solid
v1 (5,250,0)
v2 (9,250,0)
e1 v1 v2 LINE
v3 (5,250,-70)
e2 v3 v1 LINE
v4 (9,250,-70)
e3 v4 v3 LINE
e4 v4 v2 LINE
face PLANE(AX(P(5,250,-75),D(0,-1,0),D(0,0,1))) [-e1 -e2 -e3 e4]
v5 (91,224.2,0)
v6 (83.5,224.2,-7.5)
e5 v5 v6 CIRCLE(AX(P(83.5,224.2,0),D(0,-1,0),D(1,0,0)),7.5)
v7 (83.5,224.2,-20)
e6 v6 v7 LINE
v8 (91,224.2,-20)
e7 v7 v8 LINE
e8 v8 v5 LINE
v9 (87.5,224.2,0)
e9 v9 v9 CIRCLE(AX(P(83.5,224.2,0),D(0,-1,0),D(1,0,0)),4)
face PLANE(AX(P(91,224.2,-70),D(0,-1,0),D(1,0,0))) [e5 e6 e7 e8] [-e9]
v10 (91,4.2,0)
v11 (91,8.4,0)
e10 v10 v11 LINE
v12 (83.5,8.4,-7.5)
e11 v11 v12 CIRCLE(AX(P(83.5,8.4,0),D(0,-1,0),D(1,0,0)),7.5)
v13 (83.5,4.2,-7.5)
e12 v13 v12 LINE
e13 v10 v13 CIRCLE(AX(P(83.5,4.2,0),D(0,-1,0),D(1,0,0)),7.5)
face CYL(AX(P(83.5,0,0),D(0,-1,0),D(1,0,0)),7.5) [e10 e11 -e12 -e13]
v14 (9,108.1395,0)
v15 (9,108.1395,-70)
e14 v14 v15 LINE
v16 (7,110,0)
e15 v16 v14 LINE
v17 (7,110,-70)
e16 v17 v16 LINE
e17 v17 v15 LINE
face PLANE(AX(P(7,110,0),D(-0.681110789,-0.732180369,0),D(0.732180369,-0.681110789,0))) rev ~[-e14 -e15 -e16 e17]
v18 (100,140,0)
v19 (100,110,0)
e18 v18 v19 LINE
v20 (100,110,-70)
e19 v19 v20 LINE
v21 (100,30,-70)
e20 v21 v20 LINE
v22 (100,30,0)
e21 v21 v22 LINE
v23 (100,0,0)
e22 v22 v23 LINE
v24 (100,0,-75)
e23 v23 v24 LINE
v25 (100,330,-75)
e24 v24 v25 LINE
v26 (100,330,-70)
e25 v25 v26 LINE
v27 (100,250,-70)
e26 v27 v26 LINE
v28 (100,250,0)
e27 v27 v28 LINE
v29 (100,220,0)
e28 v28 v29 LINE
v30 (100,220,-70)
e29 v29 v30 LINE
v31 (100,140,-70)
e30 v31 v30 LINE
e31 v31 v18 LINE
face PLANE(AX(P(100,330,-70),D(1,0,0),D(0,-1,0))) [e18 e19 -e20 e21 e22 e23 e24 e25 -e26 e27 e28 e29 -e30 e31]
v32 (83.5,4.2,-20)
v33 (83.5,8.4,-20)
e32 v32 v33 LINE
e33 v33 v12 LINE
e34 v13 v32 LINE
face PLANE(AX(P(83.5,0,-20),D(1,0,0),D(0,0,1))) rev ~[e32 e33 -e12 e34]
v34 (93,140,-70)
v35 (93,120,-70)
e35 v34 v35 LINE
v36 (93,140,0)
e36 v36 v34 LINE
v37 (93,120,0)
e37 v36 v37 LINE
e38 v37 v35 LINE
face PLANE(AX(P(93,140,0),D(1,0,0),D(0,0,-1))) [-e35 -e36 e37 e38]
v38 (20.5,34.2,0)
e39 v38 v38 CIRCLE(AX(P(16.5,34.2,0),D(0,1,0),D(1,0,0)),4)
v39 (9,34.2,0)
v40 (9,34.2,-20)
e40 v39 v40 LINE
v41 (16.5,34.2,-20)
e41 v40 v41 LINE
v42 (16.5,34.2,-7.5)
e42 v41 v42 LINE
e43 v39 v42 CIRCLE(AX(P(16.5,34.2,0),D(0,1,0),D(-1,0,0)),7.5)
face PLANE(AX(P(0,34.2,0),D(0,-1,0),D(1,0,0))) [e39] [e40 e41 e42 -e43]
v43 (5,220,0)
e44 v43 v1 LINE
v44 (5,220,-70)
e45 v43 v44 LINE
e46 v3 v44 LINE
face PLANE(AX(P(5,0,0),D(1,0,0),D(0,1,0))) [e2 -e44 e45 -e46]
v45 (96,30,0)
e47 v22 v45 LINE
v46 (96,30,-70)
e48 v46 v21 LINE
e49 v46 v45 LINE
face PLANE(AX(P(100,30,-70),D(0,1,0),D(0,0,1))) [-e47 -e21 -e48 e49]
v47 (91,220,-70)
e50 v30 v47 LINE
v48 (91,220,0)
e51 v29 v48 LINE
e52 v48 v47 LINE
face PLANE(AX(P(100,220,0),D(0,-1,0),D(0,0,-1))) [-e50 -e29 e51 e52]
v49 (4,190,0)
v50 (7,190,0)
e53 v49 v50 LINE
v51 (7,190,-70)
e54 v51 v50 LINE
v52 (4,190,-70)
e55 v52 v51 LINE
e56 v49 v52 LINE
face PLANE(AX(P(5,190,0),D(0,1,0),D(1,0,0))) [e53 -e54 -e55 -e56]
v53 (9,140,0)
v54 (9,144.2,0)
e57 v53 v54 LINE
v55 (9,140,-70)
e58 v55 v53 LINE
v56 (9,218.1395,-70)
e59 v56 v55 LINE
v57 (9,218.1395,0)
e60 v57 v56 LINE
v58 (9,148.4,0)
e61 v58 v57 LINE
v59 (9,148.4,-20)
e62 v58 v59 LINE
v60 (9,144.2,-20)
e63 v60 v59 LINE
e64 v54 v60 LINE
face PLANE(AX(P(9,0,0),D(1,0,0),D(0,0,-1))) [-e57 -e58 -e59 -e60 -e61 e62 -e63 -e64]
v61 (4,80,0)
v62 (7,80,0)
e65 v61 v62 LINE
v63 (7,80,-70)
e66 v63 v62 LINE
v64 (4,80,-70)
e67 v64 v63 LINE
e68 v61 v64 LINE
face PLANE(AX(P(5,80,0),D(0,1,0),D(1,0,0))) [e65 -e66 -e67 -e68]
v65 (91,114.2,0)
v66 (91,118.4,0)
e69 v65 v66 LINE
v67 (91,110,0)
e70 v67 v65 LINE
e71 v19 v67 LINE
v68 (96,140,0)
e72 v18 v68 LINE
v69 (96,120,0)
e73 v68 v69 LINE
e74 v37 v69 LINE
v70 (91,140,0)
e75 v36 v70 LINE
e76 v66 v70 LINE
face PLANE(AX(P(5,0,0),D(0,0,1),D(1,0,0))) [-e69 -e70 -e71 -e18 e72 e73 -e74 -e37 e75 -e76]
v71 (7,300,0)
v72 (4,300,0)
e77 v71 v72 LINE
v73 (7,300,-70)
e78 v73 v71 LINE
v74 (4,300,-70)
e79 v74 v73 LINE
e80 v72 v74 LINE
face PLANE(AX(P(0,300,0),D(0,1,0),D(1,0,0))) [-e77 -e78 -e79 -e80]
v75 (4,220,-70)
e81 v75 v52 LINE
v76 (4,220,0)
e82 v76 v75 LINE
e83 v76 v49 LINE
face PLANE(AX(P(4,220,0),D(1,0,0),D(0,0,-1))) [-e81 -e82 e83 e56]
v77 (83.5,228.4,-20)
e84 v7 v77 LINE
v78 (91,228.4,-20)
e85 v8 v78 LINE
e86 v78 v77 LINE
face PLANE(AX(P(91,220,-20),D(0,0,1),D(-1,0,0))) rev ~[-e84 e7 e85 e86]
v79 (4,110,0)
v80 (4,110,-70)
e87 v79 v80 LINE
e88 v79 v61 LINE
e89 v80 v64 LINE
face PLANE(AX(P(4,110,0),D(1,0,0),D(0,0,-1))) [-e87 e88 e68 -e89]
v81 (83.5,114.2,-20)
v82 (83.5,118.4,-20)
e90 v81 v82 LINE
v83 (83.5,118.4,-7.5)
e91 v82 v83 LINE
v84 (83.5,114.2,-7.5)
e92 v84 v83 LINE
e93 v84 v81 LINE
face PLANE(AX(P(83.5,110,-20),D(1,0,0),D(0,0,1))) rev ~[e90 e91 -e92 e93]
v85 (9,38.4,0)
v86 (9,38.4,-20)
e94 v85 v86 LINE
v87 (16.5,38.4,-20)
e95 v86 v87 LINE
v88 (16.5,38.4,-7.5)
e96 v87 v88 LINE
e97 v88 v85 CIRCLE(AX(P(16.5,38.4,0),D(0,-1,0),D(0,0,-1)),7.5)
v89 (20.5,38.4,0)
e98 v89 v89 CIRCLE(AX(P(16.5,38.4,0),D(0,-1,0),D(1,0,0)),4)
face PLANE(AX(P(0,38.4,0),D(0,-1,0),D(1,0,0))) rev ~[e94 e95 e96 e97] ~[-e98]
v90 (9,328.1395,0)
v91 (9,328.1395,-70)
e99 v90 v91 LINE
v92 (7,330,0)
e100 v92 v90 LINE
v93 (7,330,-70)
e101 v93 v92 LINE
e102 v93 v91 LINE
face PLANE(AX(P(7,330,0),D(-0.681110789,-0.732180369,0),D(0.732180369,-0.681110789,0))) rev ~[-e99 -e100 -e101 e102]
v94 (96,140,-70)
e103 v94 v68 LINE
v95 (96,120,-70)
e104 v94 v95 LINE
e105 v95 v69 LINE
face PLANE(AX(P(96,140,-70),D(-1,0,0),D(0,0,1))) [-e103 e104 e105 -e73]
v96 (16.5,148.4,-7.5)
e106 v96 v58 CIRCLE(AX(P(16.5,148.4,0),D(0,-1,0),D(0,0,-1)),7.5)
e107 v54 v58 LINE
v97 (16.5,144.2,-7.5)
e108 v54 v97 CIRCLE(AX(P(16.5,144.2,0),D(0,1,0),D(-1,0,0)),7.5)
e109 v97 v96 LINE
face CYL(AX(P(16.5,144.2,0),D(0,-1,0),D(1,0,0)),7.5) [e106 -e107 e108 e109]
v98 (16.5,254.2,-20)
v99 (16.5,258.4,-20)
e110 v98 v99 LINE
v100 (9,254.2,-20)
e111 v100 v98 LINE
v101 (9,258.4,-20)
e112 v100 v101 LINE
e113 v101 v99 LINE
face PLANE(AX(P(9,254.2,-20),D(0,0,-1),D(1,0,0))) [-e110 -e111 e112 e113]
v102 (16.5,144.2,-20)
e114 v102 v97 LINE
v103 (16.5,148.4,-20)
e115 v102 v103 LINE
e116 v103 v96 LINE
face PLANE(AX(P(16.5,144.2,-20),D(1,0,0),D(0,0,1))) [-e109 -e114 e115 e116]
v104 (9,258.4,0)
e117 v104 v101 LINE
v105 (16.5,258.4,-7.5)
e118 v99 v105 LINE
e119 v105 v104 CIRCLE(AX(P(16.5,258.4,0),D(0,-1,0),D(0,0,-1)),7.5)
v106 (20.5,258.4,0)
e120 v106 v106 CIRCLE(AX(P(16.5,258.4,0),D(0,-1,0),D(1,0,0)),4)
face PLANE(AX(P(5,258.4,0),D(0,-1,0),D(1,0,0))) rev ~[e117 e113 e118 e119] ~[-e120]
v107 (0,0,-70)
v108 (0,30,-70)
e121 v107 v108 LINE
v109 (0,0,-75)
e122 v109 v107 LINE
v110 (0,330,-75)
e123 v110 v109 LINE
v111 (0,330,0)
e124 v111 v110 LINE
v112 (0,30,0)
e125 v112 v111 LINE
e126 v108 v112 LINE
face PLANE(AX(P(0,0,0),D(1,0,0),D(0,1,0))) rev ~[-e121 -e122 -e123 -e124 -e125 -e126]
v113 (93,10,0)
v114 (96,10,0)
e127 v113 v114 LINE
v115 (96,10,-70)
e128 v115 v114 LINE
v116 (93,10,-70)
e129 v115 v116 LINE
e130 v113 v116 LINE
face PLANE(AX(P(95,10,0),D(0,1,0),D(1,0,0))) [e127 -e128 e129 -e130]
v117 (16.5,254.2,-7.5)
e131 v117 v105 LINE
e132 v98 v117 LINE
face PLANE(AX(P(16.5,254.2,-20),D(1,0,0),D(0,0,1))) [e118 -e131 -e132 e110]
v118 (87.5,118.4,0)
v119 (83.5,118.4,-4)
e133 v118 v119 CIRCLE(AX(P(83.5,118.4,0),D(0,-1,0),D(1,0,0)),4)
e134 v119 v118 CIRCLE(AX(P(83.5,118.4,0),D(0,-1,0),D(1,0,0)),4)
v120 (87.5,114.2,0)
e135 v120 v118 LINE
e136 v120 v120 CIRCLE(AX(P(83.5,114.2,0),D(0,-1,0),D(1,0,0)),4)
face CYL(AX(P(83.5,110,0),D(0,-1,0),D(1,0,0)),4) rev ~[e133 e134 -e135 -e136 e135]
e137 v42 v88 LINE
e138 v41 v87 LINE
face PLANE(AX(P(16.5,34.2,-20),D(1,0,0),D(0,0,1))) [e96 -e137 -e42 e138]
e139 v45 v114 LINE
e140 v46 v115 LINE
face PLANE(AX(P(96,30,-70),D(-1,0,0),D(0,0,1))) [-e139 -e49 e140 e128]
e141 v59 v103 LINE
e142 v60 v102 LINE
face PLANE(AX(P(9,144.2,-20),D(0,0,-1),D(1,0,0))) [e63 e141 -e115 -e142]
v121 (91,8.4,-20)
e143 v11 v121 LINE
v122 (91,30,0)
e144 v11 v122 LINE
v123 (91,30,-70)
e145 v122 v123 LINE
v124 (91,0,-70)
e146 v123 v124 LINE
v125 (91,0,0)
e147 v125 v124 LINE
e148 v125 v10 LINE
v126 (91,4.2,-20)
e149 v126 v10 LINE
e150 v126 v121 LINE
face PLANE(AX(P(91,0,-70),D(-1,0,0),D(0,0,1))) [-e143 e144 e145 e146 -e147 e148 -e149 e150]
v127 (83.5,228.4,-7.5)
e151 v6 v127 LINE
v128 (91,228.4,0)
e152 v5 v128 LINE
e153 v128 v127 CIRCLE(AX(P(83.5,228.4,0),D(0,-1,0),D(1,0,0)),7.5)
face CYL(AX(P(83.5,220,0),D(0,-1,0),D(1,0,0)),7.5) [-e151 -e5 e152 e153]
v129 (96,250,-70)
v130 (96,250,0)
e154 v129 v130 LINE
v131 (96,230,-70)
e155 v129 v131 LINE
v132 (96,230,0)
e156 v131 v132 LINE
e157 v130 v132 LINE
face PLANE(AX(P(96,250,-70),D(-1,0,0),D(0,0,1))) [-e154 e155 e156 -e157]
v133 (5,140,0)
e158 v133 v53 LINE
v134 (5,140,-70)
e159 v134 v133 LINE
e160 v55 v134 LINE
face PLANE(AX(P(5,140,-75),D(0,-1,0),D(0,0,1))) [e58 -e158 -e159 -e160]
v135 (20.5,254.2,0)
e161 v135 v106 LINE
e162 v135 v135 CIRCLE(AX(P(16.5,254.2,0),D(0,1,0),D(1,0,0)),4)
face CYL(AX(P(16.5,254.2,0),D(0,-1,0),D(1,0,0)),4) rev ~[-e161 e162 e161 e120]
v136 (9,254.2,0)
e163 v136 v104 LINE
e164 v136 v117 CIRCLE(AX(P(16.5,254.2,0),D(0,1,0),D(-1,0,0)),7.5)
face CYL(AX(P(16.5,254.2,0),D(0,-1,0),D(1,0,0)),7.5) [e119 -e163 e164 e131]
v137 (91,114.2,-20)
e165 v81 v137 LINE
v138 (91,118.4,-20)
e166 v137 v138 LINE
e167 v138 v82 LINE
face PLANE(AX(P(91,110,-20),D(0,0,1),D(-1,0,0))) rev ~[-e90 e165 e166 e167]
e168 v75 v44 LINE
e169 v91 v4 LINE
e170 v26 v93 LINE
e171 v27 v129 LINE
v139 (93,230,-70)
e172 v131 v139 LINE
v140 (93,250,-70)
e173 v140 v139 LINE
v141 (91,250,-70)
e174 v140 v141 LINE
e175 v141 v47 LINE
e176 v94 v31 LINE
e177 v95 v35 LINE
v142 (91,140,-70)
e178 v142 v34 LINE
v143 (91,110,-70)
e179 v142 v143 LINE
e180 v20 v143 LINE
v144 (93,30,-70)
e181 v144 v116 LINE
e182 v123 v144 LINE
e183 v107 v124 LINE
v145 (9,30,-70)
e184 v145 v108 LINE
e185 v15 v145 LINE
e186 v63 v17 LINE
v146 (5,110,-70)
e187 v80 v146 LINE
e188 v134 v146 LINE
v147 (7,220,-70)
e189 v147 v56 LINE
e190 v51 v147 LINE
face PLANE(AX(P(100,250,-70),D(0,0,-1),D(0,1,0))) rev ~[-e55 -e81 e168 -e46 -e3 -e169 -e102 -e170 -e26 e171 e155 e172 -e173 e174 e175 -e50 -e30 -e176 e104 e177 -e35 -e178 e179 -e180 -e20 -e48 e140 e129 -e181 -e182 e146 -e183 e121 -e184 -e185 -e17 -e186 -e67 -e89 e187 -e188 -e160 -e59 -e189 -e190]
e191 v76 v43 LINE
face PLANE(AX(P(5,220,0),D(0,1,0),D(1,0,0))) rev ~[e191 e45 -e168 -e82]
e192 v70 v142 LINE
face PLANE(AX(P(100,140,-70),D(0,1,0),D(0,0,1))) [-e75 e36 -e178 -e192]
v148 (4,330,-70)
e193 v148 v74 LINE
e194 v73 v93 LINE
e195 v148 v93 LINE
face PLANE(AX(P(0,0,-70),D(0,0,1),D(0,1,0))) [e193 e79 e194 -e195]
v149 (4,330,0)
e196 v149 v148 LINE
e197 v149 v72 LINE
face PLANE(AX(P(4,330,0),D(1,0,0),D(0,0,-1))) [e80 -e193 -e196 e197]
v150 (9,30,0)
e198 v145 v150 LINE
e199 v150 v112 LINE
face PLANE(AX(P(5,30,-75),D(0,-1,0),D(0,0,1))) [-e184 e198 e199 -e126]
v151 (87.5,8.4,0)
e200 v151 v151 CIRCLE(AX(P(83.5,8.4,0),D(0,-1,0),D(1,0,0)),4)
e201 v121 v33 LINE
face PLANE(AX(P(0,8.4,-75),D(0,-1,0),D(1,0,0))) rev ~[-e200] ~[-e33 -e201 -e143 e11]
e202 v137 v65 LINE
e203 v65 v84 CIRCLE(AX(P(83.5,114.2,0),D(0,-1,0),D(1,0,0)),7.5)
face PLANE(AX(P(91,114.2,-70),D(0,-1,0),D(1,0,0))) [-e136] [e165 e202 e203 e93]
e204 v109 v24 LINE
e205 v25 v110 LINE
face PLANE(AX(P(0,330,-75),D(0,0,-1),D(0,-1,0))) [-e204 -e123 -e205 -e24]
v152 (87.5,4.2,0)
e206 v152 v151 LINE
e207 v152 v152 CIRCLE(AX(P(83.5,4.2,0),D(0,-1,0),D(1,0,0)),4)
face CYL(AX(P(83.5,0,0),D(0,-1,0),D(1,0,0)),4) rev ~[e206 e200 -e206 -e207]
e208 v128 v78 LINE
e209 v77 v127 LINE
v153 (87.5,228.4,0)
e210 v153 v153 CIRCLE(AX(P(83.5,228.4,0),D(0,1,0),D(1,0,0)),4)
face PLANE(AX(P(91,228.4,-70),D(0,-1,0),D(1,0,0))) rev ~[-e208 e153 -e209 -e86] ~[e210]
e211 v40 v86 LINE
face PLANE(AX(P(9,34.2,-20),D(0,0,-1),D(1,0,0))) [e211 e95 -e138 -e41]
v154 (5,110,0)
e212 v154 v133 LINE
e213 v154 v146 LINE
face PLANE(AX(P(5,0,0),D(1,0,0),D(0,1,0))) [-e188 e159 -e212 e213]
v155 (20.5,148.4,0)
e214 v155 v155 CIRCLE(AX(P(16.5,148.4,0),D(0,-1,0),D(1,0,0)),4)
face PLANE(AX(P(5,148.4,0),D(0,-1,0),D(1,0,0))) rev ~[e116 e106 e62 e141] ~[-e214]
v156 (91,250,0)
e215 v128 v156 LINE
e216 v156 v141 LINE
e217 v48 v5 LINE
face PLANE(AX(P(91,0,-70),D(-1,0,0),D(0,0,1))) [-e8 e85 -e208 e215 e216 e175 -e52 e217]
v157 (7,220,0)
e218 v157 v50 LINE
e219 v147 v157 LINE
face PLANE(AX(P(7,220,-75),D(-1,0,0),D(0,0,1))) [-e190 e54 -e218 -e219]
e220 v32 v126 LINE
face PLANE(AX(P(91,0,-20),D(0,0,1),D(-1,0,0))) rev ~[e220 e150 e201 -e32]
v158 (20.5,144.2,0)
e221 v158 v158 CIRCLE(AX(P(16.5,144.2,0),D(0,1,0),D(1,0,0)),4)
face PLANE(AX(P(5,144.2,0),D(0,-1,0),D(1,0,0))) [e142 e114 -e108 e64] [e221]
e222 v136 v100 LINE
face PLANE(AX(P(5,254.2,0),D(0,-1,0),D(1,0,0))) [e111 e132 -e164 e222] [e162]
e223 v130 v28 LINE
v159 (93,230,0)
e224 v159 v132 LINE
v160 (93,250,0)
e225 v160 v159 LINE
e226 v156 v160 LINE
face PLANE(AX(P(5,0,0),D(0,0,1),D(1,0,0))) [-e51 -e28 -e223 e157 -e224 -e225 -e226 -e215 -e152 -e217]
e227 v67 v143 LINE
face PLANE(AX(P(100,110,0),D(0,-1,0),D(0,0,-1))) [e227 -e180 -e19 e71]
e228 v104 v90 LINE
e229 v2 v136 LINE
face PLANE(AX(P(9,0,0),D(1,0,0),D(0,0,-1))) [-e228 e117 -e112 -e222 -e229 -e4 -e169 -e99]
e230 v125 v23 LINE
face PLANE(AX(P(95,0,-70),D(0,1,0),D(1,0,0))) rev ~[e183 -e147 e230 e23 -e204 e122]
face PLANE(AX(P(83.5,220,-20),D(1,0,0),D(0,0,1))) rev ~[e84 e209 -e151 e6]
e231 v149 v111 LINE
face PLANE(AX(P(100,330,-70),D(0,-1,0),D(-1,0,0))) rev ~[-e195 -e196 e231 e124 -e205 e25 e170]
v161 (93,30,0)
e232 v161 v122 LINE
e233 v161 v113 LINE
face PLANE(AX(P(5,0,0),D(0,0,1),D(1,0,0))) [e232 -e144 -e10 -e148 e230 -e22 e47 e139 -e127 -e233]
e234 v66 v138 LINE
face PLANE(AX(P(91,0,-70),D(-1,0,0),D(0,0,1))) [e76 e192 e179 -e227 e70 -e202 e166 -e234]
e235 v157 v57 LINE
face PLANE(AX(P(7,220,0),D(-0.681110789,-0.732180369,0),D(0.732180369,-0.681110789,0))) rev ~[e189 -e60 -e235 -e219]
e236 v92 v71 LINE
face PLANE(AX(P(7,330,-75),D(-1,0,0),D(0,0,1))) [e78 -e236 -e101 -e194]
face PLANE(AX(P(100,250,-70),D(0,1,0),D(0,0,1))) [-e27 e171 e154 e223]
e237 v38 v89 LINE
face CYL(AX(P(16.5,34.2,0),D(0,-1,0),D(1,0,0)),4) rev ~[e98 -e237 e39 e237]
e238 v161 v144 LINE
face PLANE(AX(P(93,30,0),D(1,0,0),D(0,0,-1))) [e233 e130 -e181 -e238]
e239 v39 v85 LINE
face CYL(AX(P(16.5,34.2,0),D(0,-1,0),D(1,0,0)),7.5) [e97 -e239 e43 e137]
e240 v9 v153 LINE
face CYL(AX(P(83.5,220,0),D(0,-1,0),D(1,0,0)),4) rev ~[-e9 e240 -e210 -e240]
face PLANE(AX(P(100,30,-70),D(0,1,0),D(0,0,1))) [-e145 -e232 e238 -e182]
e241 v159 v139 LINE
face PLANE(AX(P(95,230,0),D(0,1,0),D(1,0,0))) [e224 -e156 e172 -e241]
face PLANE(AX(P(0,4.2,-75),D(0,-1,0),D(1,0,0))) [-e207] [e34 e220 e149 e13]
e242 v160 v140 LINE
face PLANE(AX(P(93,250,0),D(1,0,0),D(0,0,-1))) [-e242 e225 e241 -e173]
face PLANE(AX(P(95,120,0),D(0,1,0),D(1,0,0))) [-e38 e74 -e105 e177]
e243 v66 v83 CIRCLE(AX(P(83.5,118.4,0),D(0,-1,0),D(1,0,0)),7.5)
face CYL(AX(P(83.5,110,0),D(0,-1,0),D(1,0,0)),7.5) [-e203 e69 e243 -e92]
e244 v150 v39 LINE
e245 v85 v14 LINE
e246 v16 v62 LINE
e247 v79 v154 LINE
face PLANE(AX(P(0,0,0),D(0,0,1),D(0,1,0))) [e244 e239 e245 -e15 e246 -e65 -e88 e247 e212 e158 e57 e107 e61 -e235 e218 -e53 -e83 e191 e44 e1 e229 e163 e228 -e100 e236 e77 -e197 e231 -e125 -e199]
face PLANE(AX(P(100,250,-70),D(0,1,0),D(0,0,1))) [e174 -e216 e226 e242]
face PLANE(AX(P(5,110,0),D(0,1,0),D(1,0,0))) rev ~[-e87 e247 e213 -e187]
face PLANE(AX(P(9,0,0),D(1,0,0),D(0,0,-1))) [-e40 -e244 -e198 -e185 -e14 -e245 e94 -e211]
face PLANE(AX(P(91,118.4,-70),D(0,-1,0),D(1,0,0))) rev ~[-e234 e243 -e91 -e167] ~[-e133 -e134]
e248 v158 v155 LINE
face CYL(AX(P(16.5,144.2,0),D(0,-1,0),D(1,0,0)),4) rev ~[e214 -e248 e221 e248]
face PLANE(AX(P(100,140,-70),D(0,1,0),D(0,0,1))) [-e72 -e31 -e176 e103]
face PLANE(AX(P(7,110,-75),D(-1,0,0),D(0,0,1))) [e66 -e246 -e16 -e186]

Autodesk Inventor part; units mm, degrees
sketch "Boceto1" plane through (0, 0, 0) normal (1, 0, 0) x (0, 1, 0)
  line L0 (0, 0) -> (330, 0)
  line L1 (330, 0) -> (330, -75)
  line L2 (330, -75) -> (0, -75)
  line L3 (0, -75) -> (0, 0)
  dimension "d0" = 330
  dimension "d1" = 75
extrude "Extrusión1" add sketch "Boceto1" along normal blind 5
sketch "Boceto2" plane through (5, 0, 0) normal (1, 0, 0) x (0, 0, -1)
  line L0 (75, 330) -> (0, 330) projected
  line L1 (75, 0) -> (75, 330) projected
  line L2 (0, 330) -> (75, 330)
  line L3 (75, 330) -> (75, 250)
  line L4 (75, 250) -> (0, 250)
  line L5 (0, 250) -> (0, 330)
  line L6 (75, 140) -> (0, 140)
  line L7 (0, 140) -> (0, 220)
  line L8 (0, 220) -> (75, 220)
  line L9 (75, 220) -> (75, 140)
  line L10 (75, 30) -> (0, 30)
  line L11 (0, 30) -> (0, 110)
  line L12 (0, 110) -> (75, 110)
  line L13 (75, 110) -> (75, 30)
  point P0 (0, 0)
  dimension "d4" = 80
  dimension "d7" = 110
extrude "Extrusión2" add sketch "Boceto2" along normal blind 4
sketch "Boceto3" plane through (0, 330, 0) normal (0, 1, 0) x (1, 0, 0)
  line L0 (7, 0) -> (4, 0)
  line L1 (4, 0) -> (4, 75)
  line L2 (4, 75) -> (7, 75)
  line L3 (7, 75) -> (7, 0)
  line L4 (0, 75) -> (0, 0) projected
  line L5 (9, 75) -> (9, 0) projected
  line L6 (0, 0) -> (9, 0) projected
  line L7 (0, 75) -> (9, 75) projected
  dimension "d14" = 4
  dimension "d15" = 2
  dimension "d16" = 0
  dimension "d17" = 0
  dimension "d62" = 3
sketch "Boceto8" plane through (5, 220, 0) normal (0, 1, 0) x (1, 0, 0)
  line L0 (-1, 0) -> (-1, 75) projected
  line L1 (2, 75) -> (2, 0) projected
  line L2 (-5, 0) -> (4, 0) projected
  line L3 (-5, 75) -> (4, 75) projected
sketch "Boceto9" plane through (5, 110, 0) normal (0, 1, 0) x (1, 0, 0)
  line L0 (2, 75) -> (2, 0) projected
  line L1 (-1, 0) -> (-1, 75) projected
  line L2 (-5, 0) -> (4, 0) projected
  line L3 (-5, 75) -> (4, 75) projected
extrude "Extrusión3" cut sketch "Boceto3" against normal blind 30 contours L0 L1 L2 L3
extrude "Extrusión4" cut sketch "Boceto8" against normal blind 30
extrude "Extrusión5" cut sketch "Boceto9" against normal blind 30
sketch "Boceto10" plane through (0, 0, 0) normal (-1, 0, 0) x (0, 0, 1)
  line L0 (-75, 0) -> (-75, 330) projected
  line L1 (-75, 330) -> (0, 330) projected
  line L2 (-75, 0) -> (-70, 0)
  line L3 (-70, 0) -> (-70, 330)
  line L4 (-70, 330) -> (-75, 330)
  line L5 (-75, 330) -> (-75, 0)
  point P0 (0, 0)
  dimension "d24" = 5
extrude "Extrusión6" add sketch "Boceto10" against normal blind 100
sketch "Boceto11" plane through (5, 0, -70) normal (0, 0, 1) x (1, 0, 0)
  line L0 (95, 330) -> (95, 0) projected
  line L1 (-5, 0) -> (95, 0) projected
  line L2 (95, 330) -> (90, 330)
  line L3 (90, 330) -> (90, 0)
  line L4 (90, 0) -> (95, 0)
  line L5 (95, 0) -> (95, 330)
  dimension "d27" = 5
extrude "Extrusión7" add sketch "Boceto11" along normal blind 70
sketch "Boceto12" plane through (95, 0, -70) normal (-1, 0, 0) x (0, 0, 1)
  line L0 (70, 0) -> (70, 330) projected
  line L1 (-5, 0) -> (-5, 330) projected
  line L2 (70, 250) -> (-5, 250)
  line L3 (-5, 250) -> (-5, 220)
  line L4 (-5, 220) -> (70, 220)
  line L5 (70, 220) -> (70, 250)
  line L6 (-5, 330) -> (70, 330) projected
  line L7 (70, 140) -> (-5, 140)
  line L8 (-5, 140) -> (-5, 110)
  line L9 (-5, 110) -> (70, 110)
  line L10 (70, 110) -> (70, 140)
  line L11 (70, 30) -> (-5, 30)
  line L12 (-5, 30) -> (-5, 0)
  line L13 (-5, 0) -> (70, 0)
  line L14 (70, 0) -> (70, 30)
  point P0 (70, 0)
  point P1 (70, 30)
  point P2 (-5, 30)
  point P3 (70, 140)
  point P4 (-5, 140)
  point P5 (-5, 250)
  dimension "d30" = 80
  dimension "d31" = 30
  dimension "d34" = 110
extrude "Extrusión8" add sketch "Boceto12" along normal blind 4 contours L13 L1 L11 L0 | L9 L1 L7 L0 | L4 L1 L2 L0
sketch "Boceto16" plane through (100, 0, 0) normal (1, 0, 0) x (0, 0, -1)
  line L0 (70, 250) -> (0, 250) projected
  line L1 (0, 330) -> (0, 250) projected
  line L2 (70, 330) -> (0, 330) projected
  line L3 (70, 250) -> (70, 330) projected
  line L4 (70, 140) -> (0, 140) projected
  line L5 (0, 220) -> (0, 140) projected
  line L6 (0, 220) -> (70, 220) projected
  line L7 (70, 140) -> (70, 220) projected
  line L8 (70, 30) -> (0, 30) projected
  line L9 (0, 110) -> (0, 30) projected
  line L10 (0, 110) -> (70, 110) projected
  line L11 (70, 30) -> (70, 110) projected
  point P0 (0, 0)
extrude "Extrusión12" cut sketch "Boceto16" against normal blind 10
sketch "Boceto25" plane through (0, 0, 0) normal (0, 0, 1) x (1, 0, 0)
  line L0 (7, 330) -> (7, 300) construction
  line L1 (7, 300) -> (7, 330) construction
  line L2 (7, 330) -> (125.2499, 220) construction
  line L3 (7, 330) -> (9, 328.1395)
  line L4 (9, 330) -> (9, 250) projected
  line L5 (7, 330) -> (9, 330) projected
  line L6 (8, 330) -> (7, 330)
  line L7 (7, 220) -> (9, 220) projected
  line L8 (7, 220) -> (9, 218.1395)
  line L9 (9, 220) -> (9, 140) projected
  line L10 (7, 220) -> (9.7315, 220) construction
  line L11 (9, 218.1395) -> (9, 220)
  line L12 (9, 220) -> (7, 220)
  line L13 (7, 110) -> (9, 110) projected
  line L14 (7, 110) -> (9, 108.1395)
  line L15 (9, 108.1395) -> (9, 110)
  line L16 (9, 110) -> (7, 110)
  point P0 (0, 0)
  dimension "d57" = 42.93
  dimension "d106" = 42.93
extrude "Extrusión13" cut sketch "Boceto25" against normal blind 70
sketch "Boceto26" plane through (5, 0, 0) normal (1, 0, 0) x (0, 0, -1)
  line L0 (70, 0) -> (70, 30) projected
  line L1 (70, 30) -> (0, 30) projected
  line L2 (0, 30) -> (0, 0) projected
  line L3 (0, 0) -> (70, 0) projected
extrude "Extrusión14" cut sketch "Boceto26" against normal blind 10
sketch "Boceto27" plane through (91, 220, -70) normal (0, -1, 0) x (1, 0, 0)
  line L0 (0, 0) -> (0, 70) construction
  line L1 (0, 70) -> (-37.4235, 70) construction
  circle A0 centre (-7.5, 70) radius 7.5
  line L2 (0, 50) -> (-7.5, 50)
  line L3 (-7.5, 50) -> (-7.5, 70)
  line L4 (-7.5, 70) -> (0, 70)
  line L5 (0, 70) -> (0, 50)
  circle A1 centre (-7.5, 70) radius 4
  point P0 (-91, 70)
  point P1 (-7.5, 62.5)
  dimension "d64" = 15
  dimension "d63" = 20
  dimension "d65" = 8
sketch "Boceto28" plane through (91, 110, -70) normal (0, -1, 0) x (1, 0, 0)
  line L0 (0, 50) -> (-7.5, 50) projected
  line L1 (-7.5, 50) -> (-7.5, 70) projected
  circle A0 centre (-7.5, 70) radius 7.5 projected
  circle A1 centre (-7.5, 70) radius 4 projected
  line L2 (0, 70) -> (-37.4235, 70) construction
  line L3 (0, 70) -> (0, 50) projected
  point P0 (-91, 70)
  point P1 (-7.5, 62.5)
sketch "Boceto29" plane through (0, 0, -75) normal (0, -1, 0) x (1, 0, 0)
  line L0 (91, 55) -> (83.5, 55) projected
  line L1 (83.5, 55) -> (83.5, 75) projected
  circle A0 centre (83.5, 75) radius 7.5 projected
  circle A1 centre (83.5, 75) radius 4 projected
  line L2 (83.5, 75) -> (91, 75) projected
  line L3 (91, 75) -> (91, 55) projected
  point P0 (0, 75)
  point P1 (83.5, 67.5)
extrude "Extrusión15" add sketch "Boceto27" against normal blind 8.4 contours L4 A1 L3 A0 | L5 L2 L3 A0 | A0 L3 A1 L4
extrude "Extrusión16" add sketch "Boceto28" against normal blind 8.4
extrude "Extrusión17" add sketch "Boceto29" against normal blind 8.4 contours L0 L1 A0 L3 | L2 A1 L1 A0 | A0 L1 A1 L2
sketch "Boceto30" plane through (91, 220, -70) normal (0, -1, 0) x (1, 0, 0)
  circle A0 centre (-7.5, 70) radius 4 projected
  line L0 (0, 0) -> (-91, 0) projected
  line L1 (-91, 0) -> (-91, -5) projected
  line L2 (-91, -5) -> (9, -5) projected
  line L3 (9, -5) -> (9, 70) projected
  line L4 (9, 70) -> (0, 70) projected
  arc A1 (0, 70) -> (-7.5, 62.5) centre (-7.5, 70) ccw projected
  line L5 (-7.5, 62.5) -> (-7.5, 50) projected
  line L6 (-7.5, 50) -> (0, 50) projected
  line L7 (0, 0) -> (0, 50) projected
  line L8 (0, 50) -> (0, 70)
  point P0 (-91, 70)
sketch "Boceto31" plane through (91, 110, -70) normal (0, -1, 0) x (1, 0, 0)
  line L0 (0, 50) -> (0, 70) projected
  circle A0 centre (-7.5, 70) radius 4 projected
  line L1 (9, 0) -> (0, 0) projected
  line L2 (9, 70) -> (9, 0) projected
  line L3 (0, 70) -> (9, 70) projected
  arc A1 (0, 70) -> (-7.5, 62.5) centre (-7.5, 70) ccw projected
  line L4 (-7.5, 62.5) -> (-7.5, 50) projected
  line L5 (-7.5, 50) -> (0, 50) projected
  line L6 (0, 0) -> (0, 50) projected
  point P0 (-91, 70)
sketch "Boceto32" plane through (0, 0, -75) normal (0, -1, 0) x (1, 0, 0)
  circle A0 centre (83.5, 75) radius 4 projected
  line L0 (100, 5) -> (91, 5) projected
  line L1 (100, 75) -> (100, 5) projected
  line L2 (91, 75) -> (100, 75) projected
  arc A1 (91, 75) -> (83.5, 67.5) centre (83.5, 75) ccw projected
  line L3 (83.5, 67.5) -> (83.5, 55) projected
  line L4 (83.5, 55) -> (91, 55) projected
  line L5 (91, 5) -> (91, 55) projected
  line L6 (91, 55) -> (91, 75) projected
  point P0 (0, 75)
extrude "Extrusión18" cut sketch "Boceto32" against normal blind 4.2 contours L4 L3 A1 L6
extrude "Extrusión19" cut sketch "Boceto31" against normal blind 4.2 contours L5 L4 A1 L0
extrude "Extrusión20" cut sketch "Boceto30" against normal blind 4.2 contours L6 L5 A1 L8
thread "Rosca1" size "M8x1.25" class "6H" standard "ANSI Metric M Profile" full length
ref_plane "Work Plane2" through (5, 254.2, 0) normal (0, -1, 0) x (1, 0, 0)
sketch "Sketch33" plane through (5, 254.2, 0) normal (0, -1, 0) x (1, 0, 0)
  line L0 (4, 0) -> (4, -20)
  line L1 (4, -20) -> (11.5, -20)
  line L2 (11.5, -20) -> (11.5, 0)
  line L3 (11.5, 0) -> (4, 0)
  circle A0 centre (11.5, 0) radius 4
  circle A1 centre (11.5, 0) radius 7.5
  point P0 (-5, 0)
  point P1 (4, 0)
  point P2 (11.5, -7.5)
  dimension "d81" = 20
  dimension "d82" = 7.5
  dimension "d83" = 20
  dimension "d84" = 8
  dimension "d85" = 15
extrude "Extrusion21" add sketch "Sketch33" against normal blind 4.2 contours A1 L2 L1 L0 | A1 L2 A0 L3 | L3 A0 L2 A1
ref_plane "Work Plane3" through (5, 144.2, 0) normal (0, -1, 0) x (1, 0, 0)
sketch "Sketch34" plane through (5, 144.2, 0) normal (0, -1, 0) x (1, 0, 0)
  line L0 (4, 0) -> (4, -20)
  line L1 (4, -20) -> (11.5, -20)
  line L2 (11.5, -20) -> (11.5, 0)
  line L3 (11.5, 0) -> (4, 0)
  circle A0 centre (11.5, 0) radius 4
  circle A1 centre (11.5, 0) radius 7.5
  point P0 (-5, 0)
  point P1 (11.5, -7.5)
  dimension "d89" = 20
  dimension "d90" = 7.5
  dimension "d91" = 20
  dimension "d92" = 8
  dimension "d93" = 15
extrude "Extrusion22" add sketch "Sketch34" against normal blind 4.2 contours A1 L2 L1 L0 | A1 L2 A0 L3 | L3 A0 L2 A1
ref_plane "Work Plane4" through (0, 34.2, 0) normal (0, -1, 0) x (1, 0, 0)
sketch "Sketch35" plane through (0, 34.2, 0) normal (0, -1, 0) x (1, 0, 0)
  line L0 (9, 0) -> (9, -20)
  line L1 (9, -20) -> (16.5, -20)
  line L2 (16.5, -20) -> (16.5, 0)
  line L3 (16.5, 0) -> (9, 0)
  circle A0 centre (16.5, 0) radius 4
  circle A1 centre (16.5, 0) radius 7.5
  point P0 (0, 0)
  point P1 (9, 0)
  point P2 (16.5, -7.5)
  dimension "d97" = 20
  dimension "d98" = 7.5
  dimension "d99" = 20
  dimension "d100" = 8
  dimension "d101" = 15
extrude "Extrusion23" add sketch "Sketch35" against normal blind 4.2 contours A1 L2 L1 L0 | A1 L2 A0 L3 | L3 A0 L2 A1
thread "Thread2" size "M8x1.25" class "6H" standard "ANSI Metric M Profile" full length
sketch "Boceto13" plane through (95, 250, 0) normal (0, 1, 0) x (1, 0, 0)
  line L0 (5, 70) -> (-4, 70) projected
  line L1 (-4, 0) -> (5, 0) projected
  line L2 (-2, 70) -> (1, 70)
  line L3 (1, 70) -> (1, 0)
  line L4 (1, 0) -> (-2, 0)
  line L5 (-2, 0) -> (-2, 70)
  line L6 (-4, 0) -> (-4, 70) projected
  point P0 (-2, 0)
  point P1 (1, 70)
  dimension "d113" = 2
  dimension "d114" = 3
extrude "Extrusión24" cut sketch "Boceto13" against normal blind 20 contours L3 L1 L5 L0
pattern_linear "Patrón rectangular1" count 3 spacing 110 along (0, -1, 0) of "Extrusión24"
equation "\"d57\" = d106"
properties part number "Interior Der" material "Plástico PBT"
